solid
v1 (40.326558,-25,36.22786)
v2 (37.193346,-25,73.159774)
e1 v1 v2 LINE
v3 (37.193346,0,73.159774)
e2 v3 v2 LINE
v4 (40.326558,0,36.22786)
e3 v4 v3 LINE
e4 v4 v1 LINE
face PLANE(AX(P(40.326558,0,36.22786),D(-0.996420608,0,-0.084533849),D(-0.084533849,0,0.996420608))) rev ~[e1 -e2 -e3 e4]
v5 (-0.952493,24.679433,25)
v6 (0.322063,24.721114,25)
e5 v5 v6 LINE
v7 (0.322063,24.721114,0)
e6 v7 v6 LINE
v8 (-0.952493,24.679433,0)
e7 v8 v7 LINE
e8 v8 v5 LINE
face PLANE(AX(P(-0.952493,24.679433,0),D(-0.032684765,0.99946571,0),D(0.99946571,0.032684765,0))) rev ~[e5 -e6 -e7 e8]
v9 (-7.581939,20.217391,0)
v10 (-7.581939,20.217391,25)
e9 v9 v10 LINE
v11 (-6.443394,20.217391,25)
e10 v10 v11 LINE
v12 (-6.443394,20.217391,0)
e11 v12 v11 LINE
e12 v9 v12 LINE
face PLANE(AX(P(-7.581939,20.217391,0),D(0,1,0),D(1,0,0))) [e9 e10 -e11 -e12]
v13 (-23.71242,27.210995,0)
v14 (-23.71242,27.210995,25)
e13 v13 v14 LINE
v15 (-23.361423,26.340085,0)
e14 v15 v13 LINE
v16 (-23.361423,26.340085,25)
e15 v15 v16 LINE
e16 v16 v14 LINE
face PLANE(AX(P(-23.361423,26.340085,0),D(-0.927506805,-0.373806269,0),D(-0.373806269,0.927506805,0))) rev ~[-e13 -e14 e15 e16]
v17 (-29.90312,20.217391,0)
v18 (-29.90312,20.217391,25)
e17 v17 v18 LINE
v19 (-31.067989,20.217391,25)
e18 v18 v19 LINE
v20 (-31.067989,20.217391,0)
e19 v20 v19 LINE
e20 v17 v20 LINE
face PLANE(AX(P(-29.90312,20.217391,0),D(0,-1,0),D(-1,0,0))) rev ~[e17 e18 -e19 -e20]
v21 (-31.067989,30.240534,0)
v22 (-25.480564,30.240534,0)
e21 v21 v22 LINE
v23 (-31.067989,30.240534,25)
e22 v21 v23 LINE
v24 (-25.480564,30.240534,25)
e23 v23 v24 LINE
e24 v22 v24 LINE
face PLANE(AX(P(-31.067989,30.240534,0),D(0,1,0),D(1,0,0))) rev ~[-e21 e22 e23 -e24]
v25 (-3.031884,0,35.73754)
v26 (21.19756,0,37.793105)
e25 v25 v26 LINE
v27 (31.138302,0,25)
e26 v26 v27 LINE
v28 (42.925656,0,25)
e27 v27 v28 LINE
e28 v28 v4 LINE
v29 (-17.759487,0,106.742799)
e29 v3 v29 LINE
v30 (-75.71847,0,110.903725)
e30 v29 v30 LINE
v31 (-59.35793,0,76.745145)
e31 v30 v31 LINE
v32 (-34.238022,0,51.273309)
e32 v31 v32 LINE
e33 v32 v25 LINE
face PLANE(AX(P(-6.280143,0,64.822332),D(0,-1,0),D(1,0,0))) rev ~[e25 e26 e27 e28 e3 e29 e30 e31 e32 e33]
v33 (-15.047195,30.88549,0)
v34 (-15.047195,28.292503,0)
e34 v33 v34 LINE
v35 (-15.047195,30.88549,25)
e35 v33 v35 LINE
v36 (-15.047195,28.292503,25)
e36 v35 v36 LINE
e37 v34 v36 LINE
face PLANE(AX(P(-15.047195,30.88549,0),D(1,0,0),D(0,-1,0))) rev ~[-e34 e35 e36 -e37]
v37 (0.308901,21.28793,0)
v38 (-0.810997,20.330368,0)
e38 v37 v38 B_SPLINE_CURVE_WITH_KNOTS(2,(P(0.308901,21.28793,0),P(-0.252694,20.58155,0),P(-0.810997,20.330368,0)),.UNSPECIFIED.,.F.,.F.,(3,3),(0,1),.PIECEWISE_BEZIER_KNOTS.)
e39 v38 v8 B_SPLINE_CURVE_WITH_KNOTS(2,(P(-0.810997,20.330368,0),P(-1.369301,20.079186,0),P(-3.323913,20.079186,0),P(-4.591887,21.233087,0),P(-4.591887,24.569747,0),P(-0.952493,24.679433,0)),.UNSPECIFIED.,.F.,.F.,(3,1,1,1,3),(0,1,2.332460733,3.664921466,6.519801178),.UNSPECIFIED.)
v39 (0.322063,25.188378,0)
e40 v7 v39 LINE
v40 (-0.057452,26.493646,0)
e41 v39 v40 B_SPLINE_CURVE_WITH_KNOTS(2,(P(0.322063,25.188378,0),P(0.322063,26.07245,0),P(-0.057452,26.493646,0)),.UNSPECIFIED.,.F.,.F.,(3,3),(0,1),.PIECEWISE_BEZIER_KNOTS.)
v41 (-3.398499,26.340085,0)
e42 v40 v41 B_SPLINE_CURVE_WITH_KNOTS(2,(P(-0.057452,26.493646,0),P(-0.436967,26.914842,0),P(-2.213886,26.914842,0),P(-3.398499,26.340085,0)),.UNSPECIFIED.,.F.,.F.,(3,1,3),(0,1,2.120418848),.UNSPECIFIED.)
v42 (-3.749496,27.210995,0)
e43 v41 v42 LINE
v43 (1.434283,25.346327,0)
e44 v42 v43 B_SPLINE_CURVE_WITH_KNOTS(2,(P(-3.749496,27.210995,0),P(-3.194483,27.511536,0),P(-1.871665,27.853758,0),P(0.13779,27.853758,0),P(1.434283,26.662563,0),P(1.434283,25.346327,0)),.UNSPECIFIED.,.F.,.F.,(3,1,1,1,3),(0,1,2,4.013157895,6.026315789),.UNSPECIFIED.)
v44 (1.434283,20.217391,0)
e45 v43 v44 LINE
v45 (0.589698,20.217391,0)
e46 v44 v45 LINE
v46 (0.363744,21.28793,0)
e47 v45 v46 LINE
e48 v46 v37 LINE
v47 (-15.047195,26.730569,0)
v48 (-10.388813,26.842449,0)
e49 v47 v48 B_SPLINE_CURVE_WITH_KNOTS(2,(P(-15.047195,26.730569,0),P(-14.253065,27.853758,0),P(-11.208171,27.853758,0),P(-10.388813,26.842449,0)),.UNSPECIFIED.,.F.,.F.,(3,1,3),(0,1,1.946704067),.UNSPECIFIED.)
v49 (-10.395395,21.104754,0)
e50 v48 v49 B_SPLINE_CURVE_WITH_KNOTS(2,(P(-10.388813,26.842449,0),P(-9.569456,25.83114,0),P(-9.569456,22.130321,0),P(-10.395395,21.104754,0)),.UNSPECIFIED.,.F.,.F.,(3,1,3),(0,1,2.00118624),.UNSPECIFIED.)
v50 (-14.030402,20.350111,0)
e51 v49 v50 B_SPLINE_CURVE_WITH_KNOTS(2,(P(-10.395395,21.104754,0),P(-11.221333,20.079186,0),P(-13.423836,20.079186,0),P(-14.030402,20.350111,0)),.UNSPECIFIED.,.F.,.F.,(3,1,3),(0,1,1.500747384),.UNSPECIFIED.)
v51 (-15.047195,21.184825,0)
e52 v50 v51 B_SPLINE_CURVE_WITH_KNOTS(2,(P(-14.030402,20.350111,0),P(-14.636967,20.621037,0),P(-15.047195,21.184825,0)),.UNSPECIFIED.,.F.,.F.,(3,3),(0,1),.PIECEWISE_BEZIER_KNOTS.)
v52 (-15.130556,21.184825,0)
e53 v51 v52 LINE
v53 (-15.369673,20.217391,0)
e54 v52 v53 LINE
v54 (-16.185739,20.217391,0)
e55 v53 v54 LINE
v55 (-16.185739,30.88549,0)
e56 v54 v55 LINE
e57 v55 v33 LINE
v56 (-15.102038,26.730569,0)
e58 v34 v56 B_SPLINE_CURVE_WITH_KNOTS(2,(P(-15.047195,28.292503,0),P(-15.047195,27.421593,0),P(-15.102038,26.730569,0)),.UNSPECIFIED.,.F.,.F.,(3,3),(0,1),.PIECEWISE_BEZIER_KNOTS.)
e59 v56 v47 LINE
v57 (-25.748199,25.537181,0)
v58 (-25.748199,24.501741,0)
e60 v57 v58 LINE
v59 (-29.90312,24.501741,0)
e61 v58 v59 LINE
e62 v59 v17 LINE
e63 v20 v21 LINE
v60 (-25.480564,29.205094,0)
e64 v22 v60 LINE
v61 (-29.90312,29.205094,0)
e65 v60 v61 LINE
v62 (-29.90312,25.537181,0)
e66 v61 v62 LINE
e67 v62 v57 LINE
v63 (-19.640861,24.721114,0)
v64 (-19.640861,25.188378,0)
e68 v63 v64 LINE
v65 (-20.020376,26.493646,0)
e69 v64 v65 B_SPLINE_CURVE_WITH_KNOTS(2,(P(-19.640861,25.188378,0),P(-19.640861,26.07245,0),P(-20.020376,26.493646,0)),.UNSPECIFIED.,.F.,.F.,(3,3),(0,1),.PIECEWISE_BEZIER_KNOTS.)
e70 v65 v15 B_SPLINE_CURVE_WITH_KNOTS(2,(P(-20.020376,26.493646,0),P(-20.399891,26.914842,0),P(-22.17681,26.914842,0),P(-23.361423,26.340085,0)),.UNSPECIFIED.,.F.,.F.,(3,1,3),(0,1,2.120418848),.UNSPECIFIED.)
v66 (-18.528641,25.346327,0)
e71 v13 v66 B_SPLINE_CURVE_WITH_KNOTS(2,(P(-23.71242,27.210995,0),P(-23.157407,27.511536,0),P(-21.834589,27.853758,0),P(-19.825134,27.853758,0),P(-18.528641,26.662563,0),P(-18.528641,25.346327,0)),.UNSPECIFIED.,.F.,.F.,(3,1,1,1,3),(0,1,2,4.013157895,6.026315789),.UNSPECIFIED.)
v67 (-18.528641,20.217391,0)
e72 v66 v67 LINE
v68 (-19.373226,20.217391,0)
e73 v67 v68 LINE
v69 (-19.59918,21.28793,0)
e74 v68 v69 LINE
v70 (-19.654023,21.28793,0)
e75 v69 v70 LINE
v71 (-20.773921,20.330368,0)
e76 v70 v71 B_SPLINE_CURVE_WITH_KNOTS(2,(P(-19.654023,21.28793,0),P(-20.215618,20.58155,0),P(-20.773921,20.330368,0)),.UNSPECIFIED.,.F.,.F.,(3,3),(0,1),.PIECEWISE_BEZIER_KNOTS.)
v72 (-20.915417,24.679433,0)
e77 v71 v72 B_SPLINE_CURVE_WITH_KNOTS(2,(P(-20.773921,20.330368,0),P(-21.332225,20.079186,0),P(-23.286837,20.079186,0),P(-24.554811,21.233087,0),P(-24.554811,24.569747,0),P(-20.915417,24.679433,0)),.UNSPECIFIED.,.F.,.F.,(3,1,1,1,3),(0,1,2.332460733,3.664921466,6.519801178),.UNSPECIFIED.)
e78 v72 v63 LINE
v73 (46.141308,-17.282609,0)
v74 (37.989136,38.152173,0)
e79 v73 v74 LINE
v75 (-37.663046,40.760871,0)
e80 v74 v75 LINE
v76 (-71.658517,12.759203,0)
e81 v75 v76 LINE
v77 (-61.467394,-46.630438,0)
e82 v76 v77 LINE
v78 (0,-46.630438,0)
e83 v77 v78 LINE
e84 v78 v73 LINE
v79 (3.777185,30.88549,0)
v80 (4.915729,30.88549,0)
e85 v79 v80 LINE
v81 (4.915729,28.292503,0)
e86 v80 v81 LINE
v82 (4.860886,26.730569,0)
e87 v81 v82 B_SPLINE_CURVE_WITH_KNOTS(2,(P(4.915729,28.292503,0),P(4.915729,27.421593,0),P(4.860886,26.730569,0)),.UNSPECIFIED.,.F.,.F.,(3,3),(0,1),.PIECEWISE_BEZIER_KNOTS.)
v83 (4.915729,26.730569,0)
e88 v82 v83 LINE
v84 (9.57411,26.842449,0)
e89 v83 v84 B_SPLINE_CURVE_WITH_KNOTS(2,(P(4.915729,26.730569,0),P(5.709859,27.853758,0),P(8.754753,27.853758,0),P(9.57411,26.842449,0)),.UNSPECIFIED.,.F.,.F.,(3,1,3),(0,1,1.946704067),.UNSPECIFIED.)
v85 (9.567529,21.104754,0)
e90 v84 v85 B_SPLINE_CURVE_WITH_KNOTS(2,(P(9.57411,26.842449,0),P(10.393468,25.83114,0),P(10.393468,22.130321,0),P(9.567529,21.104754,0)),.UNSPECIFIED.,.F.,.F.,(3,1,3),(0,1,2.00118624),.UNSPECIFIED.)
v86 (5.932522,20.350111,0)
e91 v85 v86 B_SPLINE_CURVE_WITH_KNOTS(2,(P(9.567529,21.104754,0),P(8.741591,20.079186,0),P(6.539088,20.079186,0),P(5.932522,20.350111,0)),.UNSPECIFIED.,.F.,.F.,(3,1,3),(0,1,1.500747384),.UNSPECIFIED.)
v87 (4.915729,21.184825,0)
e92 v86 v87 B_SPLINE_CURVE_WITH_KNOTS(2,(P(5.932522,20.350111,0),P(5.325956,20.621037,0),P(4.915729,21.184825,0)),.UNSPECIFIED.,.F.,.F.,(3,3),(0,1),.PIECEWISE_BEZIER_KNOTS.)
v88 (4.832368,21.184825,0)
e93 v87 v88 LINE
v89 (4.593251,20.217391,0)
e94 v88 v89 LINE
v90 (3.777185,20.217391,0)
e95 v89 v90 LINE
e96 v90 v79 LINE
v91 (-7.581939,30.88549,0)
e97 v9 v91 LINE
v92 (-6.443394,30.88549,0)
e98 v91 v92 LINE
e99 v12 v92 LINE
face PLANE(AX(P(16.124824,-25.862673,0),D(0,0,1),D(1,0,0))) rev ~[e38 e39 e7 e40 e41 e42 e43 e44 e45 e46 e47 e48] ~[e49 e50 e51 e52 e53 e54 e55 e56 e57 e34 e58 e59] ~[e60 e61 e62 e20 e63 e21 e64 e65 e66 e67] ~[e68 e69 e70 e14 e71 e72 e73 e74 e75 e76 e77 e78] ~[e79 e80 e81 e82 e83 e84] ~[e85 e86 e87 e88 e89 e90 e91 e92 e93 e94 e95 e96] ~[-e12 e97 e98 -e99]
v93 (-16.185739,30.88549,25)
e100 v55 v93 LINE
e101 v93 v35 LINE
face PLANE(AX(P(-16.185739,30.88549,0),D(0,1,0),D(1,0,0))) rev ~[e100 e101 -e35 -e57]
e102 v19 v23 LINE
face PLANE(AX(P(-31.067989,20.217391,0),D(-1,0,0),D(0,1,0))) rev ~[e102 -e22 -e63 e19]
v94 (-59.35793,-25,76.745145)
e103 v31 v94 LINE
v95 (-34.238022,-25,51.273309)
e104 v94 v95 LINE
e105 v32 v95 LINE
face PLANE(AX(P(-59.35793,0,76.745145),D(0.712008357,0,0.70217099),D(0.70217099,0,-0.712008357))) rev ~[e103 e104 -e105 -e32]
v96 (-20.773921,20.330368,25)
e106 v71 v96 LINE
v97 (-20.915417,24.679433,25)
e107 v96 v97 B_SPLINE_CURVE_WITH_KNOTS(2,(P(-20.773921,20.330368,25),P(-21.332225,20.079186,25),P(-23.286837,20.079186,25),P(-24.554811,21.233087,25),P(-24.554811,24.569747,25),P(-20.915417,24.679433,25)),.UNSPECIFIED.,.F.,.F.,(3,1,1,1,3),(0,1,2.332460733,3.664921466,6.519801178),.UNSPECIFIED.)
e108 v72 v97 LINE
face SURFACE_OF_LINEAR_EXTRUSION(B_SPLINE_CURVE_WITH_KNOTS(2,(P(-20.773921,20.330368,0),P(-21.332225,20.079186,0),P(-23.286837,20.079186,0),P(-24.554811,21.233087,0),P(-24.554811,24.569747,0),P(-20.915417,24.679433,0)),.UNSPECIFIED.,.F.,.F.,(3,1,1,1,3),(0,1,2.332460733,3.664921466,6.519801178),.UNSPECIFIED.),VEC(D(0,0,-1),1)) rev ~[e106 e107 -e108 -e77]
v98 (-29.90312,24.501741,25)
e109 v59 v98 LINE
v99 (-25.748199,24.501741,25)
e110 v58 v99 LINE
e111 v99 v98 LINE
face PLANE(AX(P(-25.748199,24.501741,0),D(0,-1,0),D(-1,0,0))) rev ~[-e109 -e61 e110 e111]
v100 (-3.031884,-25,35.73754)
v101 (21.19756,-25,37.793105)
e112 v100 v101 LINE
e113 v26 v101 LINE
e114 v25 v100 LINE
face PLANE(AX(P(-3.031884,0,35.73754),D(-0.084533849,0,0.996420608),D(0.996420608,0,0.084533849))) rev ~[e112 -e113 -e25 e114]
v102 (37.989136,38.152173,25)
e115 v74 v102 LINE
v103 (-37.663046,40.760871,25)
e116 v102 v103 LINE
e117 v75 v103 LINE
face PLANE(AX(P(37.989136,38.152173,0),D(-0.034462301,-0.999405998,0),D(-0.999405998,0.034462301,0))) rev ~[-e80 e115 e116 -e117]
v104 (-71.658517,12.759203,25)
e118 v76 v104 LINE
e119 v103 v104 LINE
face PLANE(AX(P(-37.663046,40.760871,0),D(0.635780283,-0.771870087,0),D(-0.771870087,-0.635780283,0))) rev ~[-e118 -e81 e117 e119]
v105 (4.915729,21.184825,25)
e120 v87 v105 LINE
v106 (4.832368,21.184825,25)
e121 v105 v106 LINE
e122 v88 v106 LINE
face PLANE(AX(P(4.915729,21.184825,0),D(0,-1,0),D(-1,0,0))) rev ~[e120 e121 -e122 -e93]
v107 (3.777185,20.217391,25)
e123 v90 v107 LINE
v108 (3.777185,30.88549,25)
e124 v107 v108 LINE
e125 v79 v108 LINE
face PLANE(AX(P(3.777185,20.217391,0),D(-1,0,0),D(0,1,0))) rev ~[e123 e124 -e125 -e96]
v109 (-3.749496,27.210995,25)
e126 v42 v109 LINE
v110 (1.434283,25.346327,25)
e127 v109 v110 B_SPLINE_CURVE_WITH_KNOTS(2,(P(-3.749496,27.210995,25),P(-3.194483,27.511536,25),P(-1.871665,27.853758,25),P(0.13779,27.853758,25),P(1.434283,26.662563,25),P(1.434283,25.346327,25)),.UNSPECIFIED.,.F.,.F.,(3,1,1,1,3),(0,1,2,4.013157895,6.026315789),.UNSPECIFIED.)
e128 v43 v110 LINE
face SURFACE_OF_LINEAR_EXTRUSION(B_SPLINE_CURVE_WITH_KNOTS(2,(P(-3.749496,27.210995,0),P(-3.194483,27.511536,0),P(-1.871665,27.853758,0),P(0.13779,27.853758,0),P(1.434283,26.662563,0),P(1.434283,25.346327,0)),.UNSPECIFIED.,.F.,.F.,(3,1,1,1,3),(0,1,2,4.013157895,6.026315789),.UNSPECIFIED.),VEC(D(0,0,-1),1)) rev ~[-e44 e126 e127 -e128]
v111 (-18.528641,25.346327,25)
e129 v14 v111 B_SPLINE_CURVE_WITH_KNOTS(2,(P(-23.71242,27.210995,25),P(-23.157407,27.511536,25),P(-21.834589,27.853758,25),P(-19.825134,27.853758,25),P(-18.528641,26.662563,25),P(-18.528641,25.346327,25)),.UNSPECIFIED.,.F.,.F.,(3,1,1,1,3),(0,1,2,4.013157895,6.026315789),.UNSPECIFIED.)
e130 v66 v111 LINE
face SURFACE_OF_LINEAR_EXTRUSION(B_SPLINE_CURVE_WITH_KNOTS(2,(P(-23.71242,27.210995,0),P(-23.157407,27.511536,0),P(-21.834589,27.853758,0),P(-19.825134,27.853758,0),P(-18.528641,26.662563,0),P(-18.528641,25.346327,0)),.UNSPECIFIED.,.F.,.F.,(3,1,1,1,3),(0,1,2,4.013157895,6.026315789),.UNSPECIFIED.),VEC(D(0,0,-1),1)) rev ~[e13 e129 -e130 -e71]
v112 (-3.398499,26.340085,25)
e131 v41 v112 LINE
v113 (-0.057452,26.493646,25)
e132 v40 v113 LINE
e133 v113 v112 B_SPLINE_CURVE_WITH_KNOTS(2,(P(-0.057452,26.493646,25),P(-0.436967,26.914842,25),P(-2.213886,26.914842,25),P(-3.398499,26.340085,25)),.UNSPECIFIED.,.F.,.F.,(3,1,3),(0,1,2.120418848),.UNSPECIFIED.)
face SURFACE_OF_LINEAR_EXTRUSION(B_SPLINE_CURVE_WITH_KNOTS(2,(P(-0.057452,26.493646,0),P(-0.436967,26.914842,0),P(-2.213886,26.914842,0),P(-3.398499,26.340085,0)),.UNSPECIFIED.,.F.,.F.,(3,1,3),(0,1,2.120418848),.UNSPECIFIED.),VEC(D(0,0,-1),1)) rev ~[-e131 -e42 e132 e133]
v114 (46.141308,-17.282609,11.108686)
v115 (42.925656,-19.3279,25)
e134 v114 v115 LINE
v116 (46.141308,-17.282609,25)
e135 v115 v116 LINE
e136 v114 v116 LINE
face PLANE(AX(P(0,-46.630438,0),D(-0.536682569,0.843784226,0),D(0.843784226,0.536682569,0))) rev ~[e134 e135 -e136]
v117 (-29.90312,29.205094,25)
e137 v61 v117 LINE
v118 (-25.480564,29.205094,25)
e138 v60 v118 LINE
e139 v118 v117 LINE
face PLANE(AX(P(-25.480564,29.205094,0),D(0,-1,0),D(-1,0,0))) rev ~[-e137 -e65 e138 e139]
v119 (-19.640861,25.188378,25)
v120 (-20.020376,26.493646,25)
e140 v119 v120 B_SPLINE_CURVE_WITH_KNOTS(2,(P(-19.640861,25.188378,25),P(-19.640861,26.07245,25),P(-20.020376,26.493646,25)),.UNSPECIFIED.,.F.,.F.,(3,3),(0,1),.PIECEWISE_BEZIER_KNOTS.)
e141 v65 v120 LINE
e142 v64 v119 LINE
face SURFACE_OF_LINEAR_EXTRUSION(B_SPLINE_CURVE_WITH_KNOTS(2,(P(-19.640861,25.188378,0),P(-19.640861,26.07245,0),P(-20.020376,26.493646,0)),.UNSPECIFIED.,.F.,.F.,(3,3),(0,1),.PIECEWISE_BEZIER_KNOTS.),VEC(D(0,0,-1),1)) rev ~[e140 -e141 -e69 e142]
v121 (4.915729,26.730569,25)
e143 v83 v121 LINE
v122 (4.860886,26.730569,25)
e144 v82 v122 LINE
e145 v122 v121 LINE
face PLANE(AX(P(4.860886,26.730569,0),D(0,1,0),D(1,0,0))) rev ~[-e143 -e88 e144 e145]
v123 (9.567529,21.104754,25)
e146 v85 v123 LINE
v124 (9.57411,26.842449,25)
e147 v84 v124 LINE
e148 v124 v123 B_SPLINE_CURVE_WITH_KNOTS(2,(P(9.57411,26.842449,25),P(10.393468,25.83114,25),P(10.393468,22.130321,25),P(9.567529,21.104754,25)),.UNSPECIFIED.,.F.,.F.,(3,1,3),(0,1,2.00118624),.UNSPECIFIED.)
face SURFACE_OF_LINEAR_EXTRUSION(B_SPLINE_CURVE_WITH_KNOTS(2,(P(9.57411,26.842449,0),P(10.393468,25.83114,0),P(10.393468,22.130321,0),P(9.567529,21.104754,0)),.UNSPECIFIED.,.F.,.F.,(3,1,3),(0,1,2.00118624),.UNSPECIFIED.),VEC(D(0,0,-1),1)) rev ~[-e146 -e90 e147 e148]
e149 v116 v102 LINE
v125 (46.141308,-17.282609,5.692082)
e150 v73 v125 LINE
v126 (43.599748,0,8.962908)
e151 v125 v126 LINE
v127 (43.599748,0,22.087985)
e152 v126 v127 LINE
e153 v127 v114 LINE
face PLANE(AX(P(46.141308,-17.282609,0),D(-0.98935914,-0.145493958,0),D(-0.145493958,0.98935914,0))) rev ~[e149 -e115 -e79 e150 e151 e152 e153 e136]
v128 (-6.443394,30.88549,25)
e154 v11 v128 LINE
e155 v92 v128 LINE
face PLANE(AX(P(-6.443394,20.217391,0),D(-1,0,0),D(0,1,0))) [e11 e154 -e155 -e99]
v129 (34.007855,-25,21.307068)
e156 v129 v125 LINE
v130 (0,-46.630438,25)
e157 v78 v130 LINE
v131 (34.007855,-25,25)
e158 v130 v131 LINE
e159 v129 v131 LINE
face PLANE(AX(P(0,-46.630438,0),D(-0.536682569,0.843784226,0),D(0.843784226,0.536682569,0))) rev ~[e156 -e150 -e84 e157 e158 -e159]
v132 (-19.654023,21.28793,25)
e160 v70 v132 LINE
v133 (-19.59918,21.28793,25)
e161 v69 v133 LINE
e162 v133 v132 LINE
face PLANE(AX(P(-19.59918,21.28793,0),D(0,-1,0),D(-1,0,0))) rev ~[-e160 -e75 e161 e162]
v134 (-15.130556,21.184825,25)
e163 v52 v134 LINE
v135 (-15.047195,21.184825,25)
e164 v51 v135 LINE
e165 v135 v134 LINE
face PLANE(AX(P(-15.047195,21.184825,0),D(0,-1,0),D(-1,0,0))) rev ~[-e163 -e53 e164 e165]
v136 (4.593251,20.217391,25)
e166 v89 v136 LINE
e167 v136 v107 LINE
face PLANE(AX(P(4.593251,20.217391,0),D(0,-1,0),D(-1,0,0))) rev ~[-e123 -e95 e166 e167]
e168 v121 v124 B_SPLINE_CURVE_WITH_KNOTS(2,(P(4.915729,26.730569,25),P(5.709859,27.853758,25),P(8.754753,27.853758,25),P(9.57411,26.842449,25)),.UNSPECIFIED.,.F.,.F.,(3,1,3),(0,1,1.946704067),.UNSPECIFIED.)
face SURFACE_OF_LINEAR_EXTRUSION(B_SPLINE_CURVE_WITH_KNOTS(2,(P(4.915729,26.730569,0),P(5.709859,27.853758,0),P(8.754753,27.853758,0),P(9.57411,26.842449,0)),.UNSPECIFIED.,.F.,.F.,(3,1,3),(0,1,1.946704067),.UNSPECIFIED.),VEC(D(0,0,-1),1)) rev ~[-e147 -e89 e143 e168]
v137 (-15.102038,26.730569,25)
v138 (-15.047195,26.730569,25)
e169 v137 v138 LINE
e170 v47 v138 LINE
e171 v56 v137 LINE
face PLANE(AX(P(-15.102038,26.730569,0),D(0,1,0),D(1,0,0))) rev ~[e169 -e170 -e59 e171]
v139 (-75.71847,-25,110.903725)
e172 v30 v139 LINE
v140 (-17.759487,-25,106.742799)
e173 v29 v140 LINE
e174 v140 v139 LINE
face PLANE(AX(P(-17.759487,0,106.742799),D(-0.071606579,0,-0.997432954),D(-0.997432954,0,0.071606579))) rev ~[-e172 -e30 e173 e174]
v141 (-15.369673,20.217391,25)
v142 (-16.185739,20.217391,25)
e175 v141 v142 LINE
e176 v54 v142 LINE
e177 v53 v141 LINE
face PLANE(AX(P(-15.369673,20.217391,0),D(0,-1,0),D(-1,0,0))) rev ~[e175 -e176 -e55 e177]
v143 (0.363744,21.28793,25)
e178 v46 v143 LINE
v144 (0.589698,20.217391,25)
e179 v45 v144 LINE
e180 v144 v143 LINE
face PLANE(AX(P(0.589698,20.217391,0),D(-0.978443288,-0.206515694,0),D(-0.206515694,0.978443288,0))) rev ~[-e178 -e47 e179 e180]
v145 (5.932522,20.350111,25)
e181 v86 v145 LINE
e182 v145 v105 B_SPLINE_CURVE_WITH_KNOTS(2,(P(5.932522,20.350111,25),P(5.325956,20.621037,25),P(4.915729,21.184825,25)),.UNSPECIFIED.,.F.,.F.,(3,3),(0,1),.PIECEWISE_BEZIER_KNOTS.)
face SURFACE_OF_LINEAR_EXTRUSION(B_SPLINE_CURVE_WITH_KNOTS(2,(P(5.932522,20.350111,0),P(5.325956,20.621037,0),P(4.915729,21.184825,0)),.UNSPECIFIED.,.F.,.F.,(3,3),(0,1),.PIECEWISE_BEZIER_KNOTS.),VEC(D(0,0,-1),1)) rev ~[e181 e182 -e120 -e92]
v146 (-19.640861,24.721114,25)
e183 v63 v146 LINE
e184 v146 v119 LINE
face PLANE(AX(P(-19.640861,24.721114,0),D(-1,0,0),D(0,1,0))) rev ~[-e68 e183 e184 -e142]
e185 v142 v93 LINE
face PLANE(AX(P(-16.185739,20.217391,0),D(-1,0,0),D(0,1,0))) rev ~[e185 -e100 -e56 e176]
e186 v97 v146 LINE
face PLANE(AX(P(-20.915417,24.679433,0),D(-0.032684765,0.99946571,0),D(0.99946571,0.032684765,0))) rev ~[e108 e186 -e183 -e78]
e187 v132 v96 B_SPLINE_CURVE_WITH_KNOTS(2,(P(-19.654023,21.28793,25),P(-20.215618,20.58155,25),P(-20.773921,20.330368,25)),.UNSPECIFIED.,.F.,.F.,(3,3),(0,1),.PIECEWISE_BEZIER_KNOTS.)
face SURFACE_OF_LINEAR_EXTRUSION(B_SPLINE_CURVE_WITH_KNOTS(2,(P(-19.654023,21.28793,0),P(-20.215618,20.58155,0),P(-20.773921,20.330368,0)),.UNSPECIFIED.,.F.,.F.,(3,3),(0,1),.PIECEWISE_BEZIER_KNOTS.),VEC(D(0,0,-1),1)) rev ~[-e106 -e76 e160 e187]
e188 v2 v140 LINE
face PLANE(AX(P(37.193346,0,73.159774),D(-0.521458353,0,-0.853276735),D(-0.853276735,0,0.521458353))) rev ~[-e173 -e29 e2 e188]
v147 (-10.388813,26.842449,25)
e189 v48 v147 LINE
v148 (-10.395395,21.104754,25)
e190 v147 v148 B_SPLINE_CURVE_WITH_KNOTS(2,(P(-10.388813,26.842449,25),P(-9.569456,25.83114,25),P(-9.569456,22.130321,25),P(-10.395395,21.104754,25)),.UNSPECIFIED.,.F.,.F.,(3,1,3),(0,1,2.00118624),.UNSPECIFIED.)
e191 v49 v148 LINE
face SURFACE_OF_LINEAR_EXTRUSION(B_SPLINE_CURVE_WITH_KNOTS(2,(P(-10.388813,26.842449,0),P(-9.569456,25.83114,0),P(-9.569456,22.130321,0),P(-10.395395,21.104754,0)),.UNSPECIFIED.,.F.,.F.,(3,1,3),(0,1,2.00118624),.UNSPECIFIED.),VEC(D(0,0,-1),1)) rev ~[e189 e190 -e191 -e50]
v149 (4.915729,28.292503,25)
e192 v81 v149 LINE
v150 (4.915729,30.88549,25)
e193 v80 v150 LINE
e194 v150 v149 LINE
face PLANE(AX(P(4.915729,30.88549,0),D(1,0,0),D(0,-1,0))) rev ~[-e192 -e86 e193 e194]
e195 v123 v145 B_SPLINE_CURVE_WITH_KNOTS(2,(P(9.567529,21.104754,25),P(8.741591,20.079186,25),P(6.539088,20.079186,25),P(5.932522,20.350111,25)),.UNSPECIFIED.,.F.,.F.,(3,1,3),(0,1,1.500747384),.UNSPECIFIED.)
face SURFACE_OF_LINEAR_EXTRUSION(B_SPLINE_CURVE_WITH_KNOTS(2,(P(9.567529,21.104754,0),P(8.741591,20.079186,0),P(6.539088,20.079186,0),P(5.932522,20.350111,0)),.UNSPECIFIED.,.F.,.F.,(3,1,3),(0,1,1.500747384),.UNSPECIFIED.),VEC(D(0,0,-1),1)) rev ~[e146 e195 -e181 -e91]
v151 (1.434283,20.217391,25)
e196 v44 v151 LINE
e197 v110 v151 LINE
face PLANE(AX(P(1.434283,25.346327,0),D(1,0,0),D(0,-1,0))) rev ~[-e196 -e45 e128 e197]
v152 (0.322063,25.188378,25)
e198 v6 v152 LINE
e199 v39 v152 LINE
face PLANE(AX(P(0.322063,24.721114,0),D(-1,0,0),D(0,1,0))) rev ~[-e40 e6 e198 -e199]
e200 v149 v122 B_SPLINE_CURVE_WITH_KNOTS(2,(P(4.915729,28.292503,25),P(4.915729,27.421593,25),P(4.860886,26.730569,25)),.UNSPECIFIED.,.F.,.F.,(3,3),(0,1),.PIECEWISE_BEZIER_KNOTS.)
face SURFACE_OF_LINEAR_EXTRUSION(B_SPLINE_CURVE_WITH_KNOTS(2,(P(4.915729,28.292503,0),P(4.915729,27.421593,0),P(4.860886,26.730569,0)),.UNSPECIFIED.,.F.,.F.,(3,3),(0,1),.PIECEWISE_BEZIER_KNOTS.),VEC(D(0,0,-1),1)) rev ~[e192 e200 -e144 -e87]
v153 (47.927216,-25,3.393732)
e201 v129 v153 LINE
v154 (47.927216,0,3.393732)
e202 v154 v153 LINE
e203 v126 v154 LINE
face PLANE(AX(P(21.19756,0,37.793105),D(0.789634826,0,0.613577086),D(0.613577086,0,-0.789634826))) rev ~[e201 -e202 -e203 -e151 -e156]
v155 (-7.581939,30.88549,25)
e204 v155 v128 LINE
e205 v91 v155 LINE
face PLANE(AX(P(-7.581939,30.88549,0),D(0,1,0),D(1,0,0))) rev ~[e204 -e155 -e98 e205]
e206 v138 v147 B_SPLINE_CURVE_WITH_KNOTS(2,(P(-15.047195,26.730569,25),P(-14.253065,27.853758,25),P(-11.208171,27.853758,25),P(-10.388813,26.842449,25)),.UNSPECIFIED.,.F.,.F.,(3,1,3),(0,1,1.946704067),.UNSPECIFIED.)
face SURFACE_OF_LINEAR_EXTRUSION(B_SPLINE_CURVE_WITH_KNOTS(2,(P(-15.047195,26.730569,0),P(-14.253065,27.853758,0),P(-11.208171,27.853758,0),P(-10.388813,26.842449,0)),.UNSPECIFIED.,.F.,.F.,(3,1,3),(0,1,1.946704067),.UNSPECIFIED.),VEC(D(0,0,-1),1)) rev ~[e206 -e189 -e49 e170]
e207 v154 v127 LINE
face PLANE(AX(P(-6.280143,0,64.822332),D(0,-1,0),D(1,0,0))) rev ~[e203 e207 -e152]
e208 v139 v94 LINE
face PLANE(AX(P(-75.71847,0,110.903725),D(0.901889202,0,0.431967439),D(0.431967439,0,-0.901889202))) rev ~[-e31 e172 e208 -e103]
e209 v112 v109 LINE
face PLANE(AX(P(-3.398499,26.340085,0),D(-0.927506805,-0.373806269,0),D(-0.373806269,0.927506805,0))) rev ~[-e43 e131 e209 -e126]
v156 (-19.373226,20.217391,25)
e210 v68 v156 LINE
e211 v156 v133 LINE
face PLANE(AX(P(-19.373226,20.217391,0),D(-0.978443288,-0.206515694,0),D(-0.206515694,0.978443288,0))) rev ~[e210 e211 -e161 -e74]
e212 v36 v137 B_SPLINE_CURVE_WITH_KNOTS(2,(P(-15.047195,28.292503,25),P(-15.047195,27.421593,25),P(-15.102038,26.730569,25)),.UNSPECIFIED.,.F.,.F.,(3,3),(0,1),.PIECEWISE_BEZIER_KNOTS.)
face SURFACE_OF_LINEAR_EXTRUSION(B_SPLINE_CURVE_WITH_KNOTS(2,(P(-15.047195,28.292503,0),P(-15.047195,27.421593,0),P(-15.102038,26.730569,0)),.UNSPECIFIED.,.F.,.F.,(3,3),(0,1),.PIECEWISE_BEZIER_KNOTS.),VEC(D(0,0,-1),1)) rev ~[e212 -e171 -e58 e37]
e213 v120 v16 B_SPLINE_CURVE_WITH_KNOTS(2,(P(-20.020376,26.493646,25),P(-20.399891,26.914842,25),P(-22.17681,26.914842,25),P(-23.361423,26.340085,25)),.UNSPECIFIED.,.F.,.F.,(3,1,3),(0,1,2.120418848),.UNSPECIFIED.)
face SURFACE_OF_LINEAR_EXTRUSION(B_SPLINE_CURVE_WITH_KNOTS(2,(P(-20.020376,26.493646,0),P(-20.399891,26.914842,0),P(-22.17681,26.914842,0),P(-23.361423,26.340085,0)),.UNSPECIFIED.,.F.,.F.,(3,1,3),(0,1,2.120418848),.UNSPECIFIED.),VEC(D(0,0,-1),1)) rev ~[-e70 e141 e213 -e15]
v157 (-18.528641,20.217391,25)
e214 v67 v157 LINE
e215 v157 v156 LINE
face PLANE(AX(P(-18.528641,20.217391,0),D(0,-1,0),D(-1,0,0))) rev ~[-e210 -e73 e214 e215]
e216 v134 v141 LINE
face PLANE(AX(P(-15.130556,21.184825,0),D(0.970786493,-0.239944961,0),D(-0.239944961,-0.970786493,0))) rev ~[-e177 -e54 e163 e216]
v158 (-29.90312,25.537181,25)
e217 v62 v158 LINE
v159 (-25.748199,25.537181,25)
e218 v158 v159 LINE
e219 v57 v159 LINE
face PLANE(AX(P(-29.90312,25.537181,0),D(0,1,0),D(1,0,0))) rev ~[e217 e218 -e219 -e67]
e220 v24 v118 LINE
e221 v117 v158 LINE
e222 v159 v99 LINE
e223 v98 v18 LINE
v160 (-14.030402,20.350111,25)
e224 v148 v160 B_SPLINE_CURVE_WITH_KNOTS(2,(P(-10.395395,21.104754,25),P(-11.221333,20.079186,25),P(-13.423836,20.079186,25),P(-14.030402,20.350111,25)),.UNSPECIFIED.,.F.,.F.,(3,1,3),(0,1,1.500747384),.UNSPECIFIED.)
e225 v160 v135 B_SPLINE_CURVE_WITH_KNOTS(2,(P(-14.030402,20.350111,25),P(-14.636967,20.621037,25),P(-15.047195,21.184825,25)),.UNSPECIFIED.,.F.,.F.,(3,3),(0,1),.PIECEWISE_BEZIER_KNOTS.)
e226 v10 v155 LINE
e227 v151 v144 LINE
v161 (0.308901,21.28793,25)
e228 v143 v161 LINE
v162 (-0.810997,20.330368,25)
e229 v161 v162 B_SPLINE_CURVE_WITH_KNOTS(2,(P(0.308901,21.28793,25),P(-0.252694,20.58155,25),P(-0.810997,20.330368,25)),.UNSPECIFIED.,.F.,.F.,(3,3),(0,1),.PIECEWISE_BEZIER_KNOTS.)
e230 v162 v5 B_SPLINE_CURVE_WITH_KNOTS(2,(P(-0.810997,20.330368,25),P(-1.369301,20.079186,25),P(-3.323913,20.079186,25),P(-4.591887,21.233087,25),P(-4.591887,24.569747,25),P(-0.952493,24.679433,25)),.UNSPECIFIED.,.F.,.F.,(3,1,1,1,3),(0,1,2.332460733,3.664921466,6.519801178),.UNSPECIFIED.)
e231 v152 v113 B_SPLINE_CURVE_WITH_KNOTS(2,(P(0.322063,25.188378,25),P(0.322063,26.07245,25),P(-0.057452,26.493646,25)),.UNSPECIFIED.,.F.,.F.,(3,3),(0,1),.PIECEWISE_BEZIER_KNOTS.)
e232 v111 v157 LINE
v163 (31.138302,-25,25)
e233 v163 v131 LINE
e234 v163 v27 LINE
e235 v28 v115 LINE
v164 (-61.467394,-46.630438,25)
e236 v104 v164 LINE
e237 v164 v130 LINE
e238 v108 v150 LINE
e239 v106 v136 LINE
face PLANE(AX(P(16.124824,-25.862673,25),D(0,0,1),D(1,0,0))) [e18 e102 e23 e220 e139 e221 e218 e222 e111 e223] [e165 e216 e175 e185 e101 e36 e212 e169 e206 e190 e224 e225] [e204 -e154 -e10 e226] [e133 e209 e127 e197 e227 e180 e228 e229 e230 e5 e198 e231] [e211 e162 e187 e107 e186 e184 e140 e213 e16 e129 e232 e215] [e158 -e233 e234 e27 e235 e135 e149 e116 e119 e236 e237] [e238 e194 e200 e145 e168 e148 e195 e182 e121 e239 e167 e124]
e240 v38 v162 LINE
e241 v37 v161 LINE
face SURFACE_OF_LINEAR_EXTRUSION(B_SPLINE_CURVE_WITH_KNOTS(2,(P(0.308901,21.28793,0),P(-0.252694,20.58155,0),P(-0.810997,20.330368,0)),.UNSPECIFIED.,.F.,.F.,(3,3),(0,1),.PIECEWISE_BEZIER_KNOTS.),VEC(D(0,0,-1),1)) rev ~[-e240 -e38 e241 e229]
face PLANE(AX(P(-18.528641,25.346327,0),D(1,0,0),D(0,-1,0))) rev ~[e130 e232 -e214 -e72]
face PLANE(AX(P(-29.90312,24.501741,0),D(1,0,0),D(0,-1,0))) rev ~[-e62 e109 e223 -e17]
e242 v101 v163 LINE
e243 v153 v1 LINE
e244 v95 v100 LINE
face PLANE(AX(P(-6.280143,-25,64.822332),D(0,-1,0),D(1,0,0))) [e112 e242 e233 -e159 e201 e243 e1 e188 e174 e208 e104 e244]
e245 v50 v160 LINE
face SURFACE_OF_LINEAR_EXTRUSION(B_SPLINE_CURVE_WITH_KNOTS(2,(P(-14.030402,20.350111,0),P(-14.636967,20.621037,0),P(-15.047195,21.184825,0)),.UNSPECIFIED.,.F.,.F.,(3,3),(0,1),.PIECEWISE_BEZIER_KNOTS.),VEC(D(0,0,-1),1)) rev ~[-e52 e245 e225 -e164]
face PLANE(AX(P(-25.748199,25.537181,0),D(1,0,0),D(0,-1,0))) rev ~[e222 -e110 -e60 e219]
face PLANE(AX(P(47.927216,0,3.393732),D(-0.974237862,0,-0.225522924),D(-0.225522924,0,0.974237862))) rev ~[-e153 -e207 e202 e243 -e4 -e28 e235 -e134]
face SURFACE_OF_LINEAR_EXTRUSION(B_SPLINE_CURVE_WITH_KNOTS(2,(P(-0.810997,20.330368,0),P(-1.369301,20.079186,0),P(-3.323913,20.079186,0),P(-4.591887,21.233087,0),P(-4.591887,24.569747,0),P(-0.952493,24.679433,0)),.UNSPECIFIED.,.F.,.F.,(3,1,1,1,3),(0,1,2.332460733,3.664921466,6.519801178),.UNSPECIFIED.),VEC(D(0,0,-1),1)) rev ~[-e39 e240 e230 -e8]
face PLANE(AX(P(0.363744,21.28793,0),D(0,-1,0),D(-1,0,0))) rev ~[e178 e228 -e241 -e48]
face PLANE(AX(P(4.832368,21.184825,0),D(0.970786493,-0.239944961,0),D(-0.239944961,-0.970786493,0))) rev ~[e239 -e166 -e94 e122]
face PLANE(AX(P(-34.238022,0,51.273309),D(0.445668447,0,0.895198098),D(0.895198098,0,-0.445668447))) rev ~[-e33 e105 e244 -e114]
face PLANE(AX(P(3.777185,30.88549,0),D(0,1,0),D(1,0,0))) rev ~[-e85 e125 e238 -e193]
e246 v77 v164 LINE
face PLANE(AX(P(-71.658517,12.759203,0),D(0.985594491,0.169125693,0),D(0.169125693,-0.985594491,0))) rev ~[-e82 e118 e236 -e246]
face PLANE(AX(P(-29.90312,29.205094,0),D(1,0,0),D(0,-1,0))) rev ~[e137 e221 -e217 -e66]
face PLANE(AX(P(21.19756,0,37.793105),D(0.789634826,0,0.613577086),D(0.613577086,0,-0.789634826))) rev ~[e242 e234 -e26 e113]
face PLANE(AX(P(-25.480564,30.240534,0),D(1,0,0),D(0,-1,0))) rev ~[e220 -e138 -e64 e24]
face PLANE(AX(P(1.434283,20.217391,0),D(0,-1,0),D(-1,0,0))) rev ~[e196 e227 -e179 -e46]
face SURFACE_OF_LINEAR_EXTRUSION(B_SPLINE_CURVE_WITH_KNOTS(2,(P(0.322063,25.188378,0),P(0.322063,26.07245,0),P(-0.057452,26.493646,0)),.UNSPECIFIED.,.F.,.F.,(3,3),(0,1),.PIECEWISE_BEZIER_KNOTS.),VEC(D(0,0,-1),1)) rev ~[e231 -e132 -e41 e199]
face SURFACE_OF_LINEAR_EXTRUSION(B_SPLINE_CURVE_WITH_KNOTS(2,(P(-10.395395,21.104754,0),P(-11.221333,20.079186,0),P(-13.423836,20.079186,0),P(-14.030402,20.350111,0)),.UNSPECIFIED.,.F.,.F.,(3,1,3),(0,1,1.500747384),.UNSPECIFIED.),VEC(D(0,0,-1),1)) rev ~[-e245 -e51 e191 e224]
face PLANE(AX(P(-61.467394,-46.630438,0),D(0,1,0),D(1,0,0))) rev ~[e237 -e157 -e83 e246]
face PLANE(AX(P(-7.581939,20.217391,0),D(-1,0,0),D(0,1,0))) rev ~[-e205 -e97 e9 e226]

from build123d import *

# Parameters (mm, degrees)
F0_W     = 1.1385447797
F0_H     = 10.6680987737
F1_DEPTH = 25
F3_DEPTH = 25


with BuildPart() as f1:
    # F0 (on Top) → F1 (new body)
    with BuildSketch(Plane.XY):
        Polygon((0, -46.6304384172), (46.141307801, -17.2826088965), (-5.3850366841, -15.2486749252), align=None)
        Polygon((-32.335957761, 9.7168054916), (-37.6630462706, 40.7608710229), (-71.6585168016, 12.759203091), align=None)
        Polygon((46.141307801, -17.2826088965), (37.9891358316, 38.1521731615), (-9.3640666491, 7.9394637296), (-5.3850366841, -15.2486749252), align=None)
        Polygon((-5.3850366841, -15.2486749252), (-28.2065235078, -14.347827062), (-61.4673942327, -46.6304384172), (0, -46.6304384172), align=None)
        Polygon((-28.2065235078, -14.347827062), (-32.335957761, 9.7168054916), (-71.6585168016, 12.759203091), (-61.4673942327, -46.6304384172), align=None)
        Polygon((37.9891358316, 38.1521731615), (-37.6630462706, 40.7608710229), (-32.335957761, 9.7168054916), (-9.3640666491, 7.9394637296), align=None)
        Polygon((-29.9031199126, 24.5017413181), (-29.9031199126, 20.217390731), (-31.0679894271, 20.217390731), (-31.0679894271, 30.2405335024), (-25.4805644678, 30.2405335024), (-25.4805644678, 29.2050939339), (-29.9031199126, 29.2050939339), (-29.9031199126, 25.5371808865), (-25.7481992715, 25.5371808865), (-25.7481992715, 24.5017413181), align=None, mode=Mode.SUBTRACT)
        with BuildLine():
            Line((-18.5286407553, 20.217390731), (-19.3732259965, 20.217390731))
            Line((-19.3732259965, 20.217390731), (-19.5991799701, 21.2879299458))
            Line((-19.5991799701, 21.2879299458), (-19.6540231676, 21.2879299458))
            add(Edge.make_bspline(
                [(-19.6540231676, 21.2879299458), (-20.2156175098, 20.5815495622), (-20.7739212601, 20.3303677178)],
                knots=[0, 0, 0, 1, 1, 1], degree=2))
            add(Edge.make_bspline(
                [(-20.7739212601, 20.3303677178), (-21.3322250105, 20.0791858733), (-22.1702290679, 20.0791858733)],
                knots=[0, 0, 0, 1, 1, 1], degree=2))
            add(Edge.make_bspline(
                [(-22.1702290679, 20.0791858733), (-23.2868365686, 20.0791858733), (-23.9208239315, 20.6561363108)],
                knots=[0, 0, 0, 1, 1, 1], degree=2))
            add(Edge.make_bspline(
                [(-23.9208239315, 20.6561363108), (-24.5548112944, 21.2330867483), (-24.5548112944, 22.2948510515)],
                knots=[0, 0, 0, 1, 1, 1], degree=2))
            add(Edge.make_bspline(
                [(-24.5548112944, 22.2948510515), (-24.5548112944, 24.569746883), (-20.9154167096, 24.6794332779)],
                knots=[0, 0, 0, 1, 1, 1], degree=2))
            Line((-20.9154167096, 24.6794332779), (-19.6408608002, 24.721114108))
            Line((-19.6408608002, 24.721114108), (-19.6408608002, 25.1883781505))
            add(Edge.make_bspline(
                [(-19.6408608002, 25.1883781505), (-19.6408608002, 26.0724504939), (-20.0203757267, 26.4936462506)],
                knots=[0, 0, 0, 1, 1, 1], degree=2))
            add(Edge.make_bspline(
                [(-20.0203757267, 26.4936462506), (-20.3998906533, 26.9148420072), (-21.2378947108, 26.9148420072)],
                knots=[0, 0, 0, 1, 1, 1], degree=2))
            add(Edge.make_bspline(
                [(-21.2378947108, 26.9148420072), (-22.1768102516, 26.9148420072), (-23.3614233172, 26.3400852976)],
                knots=[0, 0, 0, 1, 1, 1], degree=2))
            Line((-23.3614233172, 26.3400852976), (-23.7124197811, 27.2109952736))
            add(Edge.make_bspline(
                [(-23.7124197811, 27.2109952736), (-23.1574066226, 27.5115359958), (-22.495997661, 27.6826467719)],
                knots=[0, 0, 0, 1, 1, 1], degree=2))
            add(Edge.make_bspline(
                [(-22.495997661, 27.6826467719), (-21.8345886994, 27.853757548), (-21.167695418, 27.853757548)],
                knots=[0, 0, 0, 1, 1, 1], degree=2))
            add(Edge.make_bspline(
                [(-21.167695418, 27.853757548), (-19.8251339437, 27.853757548), (-19.1768873495, 27.2581604234)],
                knots=[0, 0, 0, 1, 1, 1], degree=2))
            add(Edge.make_bspline(
                [(-19.1768873495, 27.2581604234), (-18.5286407553, 26.6625632988), (-18.5286407553, 25.3463265593)],
                knots=[0, 0, 0, 1, 1, 1], degree=2))
            Line((-18.5286407553, 25.3463265593), (-18.5286407553, 20.217390731))
        make_face(mode=Mode.SUBTRACT)
        with BuildLine():
            add(Edge.make_bspline(
                [(-15.0471945793, 26.7305688637), (-14.2530650798, 27.853757548), (-12.6889370877, 27.853757548)],
                knots=[0, 0, 0, 1, 1, 1], degree=2))
            add(Edge.make_bspline(
                [(-12.6889370877, 27.853757548), (-11.2081707557, 27.853757548), (-10.3888133854, 26.8424489865)],
                knots=[0, 0, 0, 1, 1, 1], degree=2))
            add(Edge.make_bspline(
                [(-10.3888133854, 26.8424489865), (-9.569456015, 25.831140425), (-9.569456015, 23.981827806)],
                knots=[0, 0, 0, 1, 1, 1], degree=2))
            add(Edge.make_bspline(
                [(-9.569456015, 23.981827806), (-9.569456015, 22.1303214591), (-10.3953945691, 21.1047536662)],
                knots=[0, 0, 0, 1, 1, 1], degree=2))
            add(Edge.make_bspline(
                [(-10.3953945691, 21.1047536662), (-11.2213331231, 20.0791858733), (-12.6889370877, 20.0791858733)],
                knots=[0, 0, 0, 1, 1, 1], degree=2))
            add(Edge.make_bspline(
                [(-12.6889370877, 20.0791858733), (-13.4238359339, 20.0791858733), (-14.030401698, 20.3501112689)],
                knots=[0, 0, 0, 1, 1, 1], degree=2))
            add(Edge.make_bspline(
                [(-14.030401698, 20.3501112689), (-14.6369674621, 20.6210366644), (-15.0471945793, 21.1848247345)],
                knots=[0, 0, 0, 1, 1, 1], degree=2))
            Line((-15.0471945793, 21.1848247345), (-15.1305562395, 21.1848247345))
            Line((-15.1305562395, 21.1848247345), (-15.3696725805, 20.217390731))
            Line((-15.3696725805, 20.217390731), (-16.185739359, 20.217390731))
            Line((-16.185739359, 20.217390731), (-16.185739359, 30.8854895047))
            Line((-16.185739359, 30.8854895047), (-15.0471945793, 30.8854895047))
            Line((-15.0471945793, 30.8854895047), (-15.0471945793, 28.2925031279))
            add(Edge.make_bspline(
                [(-15.0471945793, 28.2925031279), (-15.0471945793, 27.4215931519), (-15.1020377768, 26.7305688637)],
                knots=[0, 0, 0, 1, 1, 1], degree=2))
            Line((-15.1020377768, 26.7305688637), (-15.0471945793, 26.7305688637))
        make_face(mode=Mode.SUBTRACT)
        with BuildLine():
            Line((1.4342831273, 20.217390731), (0.5896978861, 20.217390731))
            Line((0.5896978861, 20.217390731), (0.3637439125, 21.2879299458))
            Line((0.3637439125, 21.2879299458), (0.308900715, 21.2879299458))
            add(Edge.make_bspline(
                [(0.308900715, 21.2879299458), (-0.2526936272, 20.5815495622), (-0.8109973775, 20.3303677178)],
                knots=[0, 0, 0, 1, 1, 1], degree=2))
            add(Edge.make_bspline(
                [(-0.8109973775, 20.3303677178), (-1.3693011279, 20.0791858733), (-2.2073051853, 20.0791858733)],
                knots=[0, 0, 0, 1, 1, 1], degree=2))
            add(Edge.make_bspline(
                [(-2.2073051853, 20.0791858733), (-3.323912686, 20.0791858733), (-3.9579000489, 20.6561363108)],
                knots=[0, 0, 0, 1, 1, 1], degree=2))
            add(Edge.make_bspline(
                [(-3.9579000489, 20.6561363108), (-4.5918874118, 21.2330867483), (-4.5918874118, 22.2948510515)],
                knots=[0, 0, 0, 1, 1, 1], degree=2))
            add(Edge.make_bspline(
                [(-4.5918874118, 22.2948510515), (-4.5918874118, 24.569746883), (-0.952492827, 24.6794332779)],
                knots=[0, 0, 0, 1, 1, 1], degree=2))
            Line((-0.952492827, 24.6794332779), (0.3220630824, 24.721114108))
            Line((0.3220630824, 24.721114108), (0.3220630824, 25.1883781505))
            add(Edge.make_bspline(
                [(0.3220630824, 25.1883781505), (0.3220630824, 26.0724504939), (-0.0574518441, 26.4936462506)],
                knots=[0, 0, 0, 1, 1, 1], degree=2))
            add(Edge.make_bspline(
                [(-0.0574518441, 26.4936462506), (-0.4369667707, 26.9148420072), (-1.2749708282, 26.9148420072)],
                knots=[0, 0, 0, 1, 1, 1], degree=2))
            add(Edge.make_bspline(
                [(-1.2749708282, 26.9148420072), (-2.213886369, 26.9148420072), (-3.3984994346, 26.3400852976)],
                knots=[0, 0, 0, 1, 1, 1], degree=2))
            Line((-3.3984994346, 26.3400852976), (-3.7494958985, 27.2109952736))
            add(Edge.make_bspline(
                [(-3.7494958985, 27.2109952736), (-3.19448274, 27.5115359958), (-2.5330737784, 27.6826467719)],
                knots=[0, 0, 0, 1, 1, 1], degree=2))
            add(Edge.make_bspline(
                [(-2.5330737784, 27.6826467719), (-1.8716648168, 27.853757548), (-1.2047715354, 27.853757548)],
                knots=[0, 0, 0, 1, 1, 1], degree=2))
            add(Edge.make_bspline(
                [(-1.2047715354, 27.853757548), (0.1377899389, 27.853757548), (0.7860365331, 27.2581604234)],
                knots=[0, 0, 0, 1, 1, 1], degree=2))
            add(Edge.make_bspline(
                [(0.7860365331, 27.2581604234), (1.4342831273, 26.6625632988), (1.4342831273, 25.3463265593)],
                knots=[0, 0, 0, 1, 1, 1], degree=2))
            Line((1.4342831273, 25.3463265593), (1.4342831273, 20.217390731))
        make_face(mode=Mode.SUBTRACT)
        with Locations((-7.0126661485, 25.5514401179)):
            Rectangle(F0_W, F0_H, mode=Mode.SUBTRACT)
        with BuildLine():
            add(Edge.make_bspline(
                [(4.9157293033, 26.7305688637), (5.7098588028, 27.853757548), (7.2739867949, 27.853757548)],
                knots=[0, 0, 0, 1, 1, 1], degree=2))
            add(Edge.make_bspline(
                [(7.2739867949, 27.853757548), (8.7547531269, 27.853757548), (9.5741104972, 26.8424489865)],
                knots=[0, 0, 0, 1, 1, 1], degree=2))
            add(Edge.make_bspline(
                [(9.5741104972, 26.8424489865), (10.3934678676, 25.831140425), (10.3934678676, 23.981827806)],
                knots=[0, 0, 0, 1, 1, 1], degree=2))
            add(Edge.make_bspline(
                [(10.3934678676, 23.981827806), (10.3934678676, 22.1303214591), (9.5675293135, 21.1047536662)],
                knots=[0, 0, 0, 1, 1, 1], degree=2))
            add(Edge.make_bspline(
                [(9.5675293135, 21.1047536662), (8.7415907595, 20.0791858733), (7.2739867949, 20.0791858733)],
                knots=[0, 0, 0, 1, 1, 1], degree=2))
            add(Edge.make_bspline(
                [(7.2739867949, 20.0791858733), (6.5390879487, 20.0791858733), (5.9325221846, 20.3501112689)],
                knots=[0, 0, 0, 1, 1, 1], degree=2))
            add(Edge.make_bspline(
                [(5.9325221846, 20.3501112689), (5.3259564205, 20.6210366644), (4.9157293033, 21.1848247345)],
                knots=[0, 0, 0, 1, 1, 1], degree=2))
            Line((4.9157293033, 21.1848247345), (4.8323676432, 21.1848247345))
            Line((4.8323676432, 21.1848247345), (4.5932513021, 20.217390731))
            Line((4.5932513021, 20.217390731), (3.7771845236, 20.217390731))
            Line((3.7771845236, 20.217390731), (3.7771845236, 30.8854895047))
            Line((3.7771845236, 30.8854895047), (4.9157293033, 30.8854895047))
            Line((4.9157293033, 30.8854895047), (4.9157293033, 28.2925031279))
            add(Edge.make_bspline(
                [(4.9157293033, 28.2925031279), (4.9157293033, 27.4215931519), (4.8608861058, 26.7305688637)],
                knots=[0, 0, 0, 1, 1, 1], degree=2))
            Line((4.8608861058, 26.7305688637), (4.9157293033, 26.7305688637))
        make_face(mode=Mode.SUBTRACT)
        Polygon((-9.3640666491, 7.9394637296), (-32.335957761, 9.7168054916), (-28.2065235078, -14.347827062), (-5.3850366841, -15.2486749252), align=None)
    extrude(amount=F1_DEPTH)

    # F2 (on Front) → F3 (join)
    with BuildSketch(Plane.XZ):
        Polygon((-17.7594870329, 106.7427992821), (-75.7184699178, 110.903725028), (-59.3579299748, 76.7451450229), (-34.2380218208, 51.2733086944), (-3.0318840951, 35.7375395996), (21.1975596517, 37.7931054263), (47.9272156954, 3.3937320113), (40.3265580535, 36.2278595567), (37.193346135, 73.1597743332), align=None)
    extrude(amount=F3_DEPTH)


solid = f1.part
